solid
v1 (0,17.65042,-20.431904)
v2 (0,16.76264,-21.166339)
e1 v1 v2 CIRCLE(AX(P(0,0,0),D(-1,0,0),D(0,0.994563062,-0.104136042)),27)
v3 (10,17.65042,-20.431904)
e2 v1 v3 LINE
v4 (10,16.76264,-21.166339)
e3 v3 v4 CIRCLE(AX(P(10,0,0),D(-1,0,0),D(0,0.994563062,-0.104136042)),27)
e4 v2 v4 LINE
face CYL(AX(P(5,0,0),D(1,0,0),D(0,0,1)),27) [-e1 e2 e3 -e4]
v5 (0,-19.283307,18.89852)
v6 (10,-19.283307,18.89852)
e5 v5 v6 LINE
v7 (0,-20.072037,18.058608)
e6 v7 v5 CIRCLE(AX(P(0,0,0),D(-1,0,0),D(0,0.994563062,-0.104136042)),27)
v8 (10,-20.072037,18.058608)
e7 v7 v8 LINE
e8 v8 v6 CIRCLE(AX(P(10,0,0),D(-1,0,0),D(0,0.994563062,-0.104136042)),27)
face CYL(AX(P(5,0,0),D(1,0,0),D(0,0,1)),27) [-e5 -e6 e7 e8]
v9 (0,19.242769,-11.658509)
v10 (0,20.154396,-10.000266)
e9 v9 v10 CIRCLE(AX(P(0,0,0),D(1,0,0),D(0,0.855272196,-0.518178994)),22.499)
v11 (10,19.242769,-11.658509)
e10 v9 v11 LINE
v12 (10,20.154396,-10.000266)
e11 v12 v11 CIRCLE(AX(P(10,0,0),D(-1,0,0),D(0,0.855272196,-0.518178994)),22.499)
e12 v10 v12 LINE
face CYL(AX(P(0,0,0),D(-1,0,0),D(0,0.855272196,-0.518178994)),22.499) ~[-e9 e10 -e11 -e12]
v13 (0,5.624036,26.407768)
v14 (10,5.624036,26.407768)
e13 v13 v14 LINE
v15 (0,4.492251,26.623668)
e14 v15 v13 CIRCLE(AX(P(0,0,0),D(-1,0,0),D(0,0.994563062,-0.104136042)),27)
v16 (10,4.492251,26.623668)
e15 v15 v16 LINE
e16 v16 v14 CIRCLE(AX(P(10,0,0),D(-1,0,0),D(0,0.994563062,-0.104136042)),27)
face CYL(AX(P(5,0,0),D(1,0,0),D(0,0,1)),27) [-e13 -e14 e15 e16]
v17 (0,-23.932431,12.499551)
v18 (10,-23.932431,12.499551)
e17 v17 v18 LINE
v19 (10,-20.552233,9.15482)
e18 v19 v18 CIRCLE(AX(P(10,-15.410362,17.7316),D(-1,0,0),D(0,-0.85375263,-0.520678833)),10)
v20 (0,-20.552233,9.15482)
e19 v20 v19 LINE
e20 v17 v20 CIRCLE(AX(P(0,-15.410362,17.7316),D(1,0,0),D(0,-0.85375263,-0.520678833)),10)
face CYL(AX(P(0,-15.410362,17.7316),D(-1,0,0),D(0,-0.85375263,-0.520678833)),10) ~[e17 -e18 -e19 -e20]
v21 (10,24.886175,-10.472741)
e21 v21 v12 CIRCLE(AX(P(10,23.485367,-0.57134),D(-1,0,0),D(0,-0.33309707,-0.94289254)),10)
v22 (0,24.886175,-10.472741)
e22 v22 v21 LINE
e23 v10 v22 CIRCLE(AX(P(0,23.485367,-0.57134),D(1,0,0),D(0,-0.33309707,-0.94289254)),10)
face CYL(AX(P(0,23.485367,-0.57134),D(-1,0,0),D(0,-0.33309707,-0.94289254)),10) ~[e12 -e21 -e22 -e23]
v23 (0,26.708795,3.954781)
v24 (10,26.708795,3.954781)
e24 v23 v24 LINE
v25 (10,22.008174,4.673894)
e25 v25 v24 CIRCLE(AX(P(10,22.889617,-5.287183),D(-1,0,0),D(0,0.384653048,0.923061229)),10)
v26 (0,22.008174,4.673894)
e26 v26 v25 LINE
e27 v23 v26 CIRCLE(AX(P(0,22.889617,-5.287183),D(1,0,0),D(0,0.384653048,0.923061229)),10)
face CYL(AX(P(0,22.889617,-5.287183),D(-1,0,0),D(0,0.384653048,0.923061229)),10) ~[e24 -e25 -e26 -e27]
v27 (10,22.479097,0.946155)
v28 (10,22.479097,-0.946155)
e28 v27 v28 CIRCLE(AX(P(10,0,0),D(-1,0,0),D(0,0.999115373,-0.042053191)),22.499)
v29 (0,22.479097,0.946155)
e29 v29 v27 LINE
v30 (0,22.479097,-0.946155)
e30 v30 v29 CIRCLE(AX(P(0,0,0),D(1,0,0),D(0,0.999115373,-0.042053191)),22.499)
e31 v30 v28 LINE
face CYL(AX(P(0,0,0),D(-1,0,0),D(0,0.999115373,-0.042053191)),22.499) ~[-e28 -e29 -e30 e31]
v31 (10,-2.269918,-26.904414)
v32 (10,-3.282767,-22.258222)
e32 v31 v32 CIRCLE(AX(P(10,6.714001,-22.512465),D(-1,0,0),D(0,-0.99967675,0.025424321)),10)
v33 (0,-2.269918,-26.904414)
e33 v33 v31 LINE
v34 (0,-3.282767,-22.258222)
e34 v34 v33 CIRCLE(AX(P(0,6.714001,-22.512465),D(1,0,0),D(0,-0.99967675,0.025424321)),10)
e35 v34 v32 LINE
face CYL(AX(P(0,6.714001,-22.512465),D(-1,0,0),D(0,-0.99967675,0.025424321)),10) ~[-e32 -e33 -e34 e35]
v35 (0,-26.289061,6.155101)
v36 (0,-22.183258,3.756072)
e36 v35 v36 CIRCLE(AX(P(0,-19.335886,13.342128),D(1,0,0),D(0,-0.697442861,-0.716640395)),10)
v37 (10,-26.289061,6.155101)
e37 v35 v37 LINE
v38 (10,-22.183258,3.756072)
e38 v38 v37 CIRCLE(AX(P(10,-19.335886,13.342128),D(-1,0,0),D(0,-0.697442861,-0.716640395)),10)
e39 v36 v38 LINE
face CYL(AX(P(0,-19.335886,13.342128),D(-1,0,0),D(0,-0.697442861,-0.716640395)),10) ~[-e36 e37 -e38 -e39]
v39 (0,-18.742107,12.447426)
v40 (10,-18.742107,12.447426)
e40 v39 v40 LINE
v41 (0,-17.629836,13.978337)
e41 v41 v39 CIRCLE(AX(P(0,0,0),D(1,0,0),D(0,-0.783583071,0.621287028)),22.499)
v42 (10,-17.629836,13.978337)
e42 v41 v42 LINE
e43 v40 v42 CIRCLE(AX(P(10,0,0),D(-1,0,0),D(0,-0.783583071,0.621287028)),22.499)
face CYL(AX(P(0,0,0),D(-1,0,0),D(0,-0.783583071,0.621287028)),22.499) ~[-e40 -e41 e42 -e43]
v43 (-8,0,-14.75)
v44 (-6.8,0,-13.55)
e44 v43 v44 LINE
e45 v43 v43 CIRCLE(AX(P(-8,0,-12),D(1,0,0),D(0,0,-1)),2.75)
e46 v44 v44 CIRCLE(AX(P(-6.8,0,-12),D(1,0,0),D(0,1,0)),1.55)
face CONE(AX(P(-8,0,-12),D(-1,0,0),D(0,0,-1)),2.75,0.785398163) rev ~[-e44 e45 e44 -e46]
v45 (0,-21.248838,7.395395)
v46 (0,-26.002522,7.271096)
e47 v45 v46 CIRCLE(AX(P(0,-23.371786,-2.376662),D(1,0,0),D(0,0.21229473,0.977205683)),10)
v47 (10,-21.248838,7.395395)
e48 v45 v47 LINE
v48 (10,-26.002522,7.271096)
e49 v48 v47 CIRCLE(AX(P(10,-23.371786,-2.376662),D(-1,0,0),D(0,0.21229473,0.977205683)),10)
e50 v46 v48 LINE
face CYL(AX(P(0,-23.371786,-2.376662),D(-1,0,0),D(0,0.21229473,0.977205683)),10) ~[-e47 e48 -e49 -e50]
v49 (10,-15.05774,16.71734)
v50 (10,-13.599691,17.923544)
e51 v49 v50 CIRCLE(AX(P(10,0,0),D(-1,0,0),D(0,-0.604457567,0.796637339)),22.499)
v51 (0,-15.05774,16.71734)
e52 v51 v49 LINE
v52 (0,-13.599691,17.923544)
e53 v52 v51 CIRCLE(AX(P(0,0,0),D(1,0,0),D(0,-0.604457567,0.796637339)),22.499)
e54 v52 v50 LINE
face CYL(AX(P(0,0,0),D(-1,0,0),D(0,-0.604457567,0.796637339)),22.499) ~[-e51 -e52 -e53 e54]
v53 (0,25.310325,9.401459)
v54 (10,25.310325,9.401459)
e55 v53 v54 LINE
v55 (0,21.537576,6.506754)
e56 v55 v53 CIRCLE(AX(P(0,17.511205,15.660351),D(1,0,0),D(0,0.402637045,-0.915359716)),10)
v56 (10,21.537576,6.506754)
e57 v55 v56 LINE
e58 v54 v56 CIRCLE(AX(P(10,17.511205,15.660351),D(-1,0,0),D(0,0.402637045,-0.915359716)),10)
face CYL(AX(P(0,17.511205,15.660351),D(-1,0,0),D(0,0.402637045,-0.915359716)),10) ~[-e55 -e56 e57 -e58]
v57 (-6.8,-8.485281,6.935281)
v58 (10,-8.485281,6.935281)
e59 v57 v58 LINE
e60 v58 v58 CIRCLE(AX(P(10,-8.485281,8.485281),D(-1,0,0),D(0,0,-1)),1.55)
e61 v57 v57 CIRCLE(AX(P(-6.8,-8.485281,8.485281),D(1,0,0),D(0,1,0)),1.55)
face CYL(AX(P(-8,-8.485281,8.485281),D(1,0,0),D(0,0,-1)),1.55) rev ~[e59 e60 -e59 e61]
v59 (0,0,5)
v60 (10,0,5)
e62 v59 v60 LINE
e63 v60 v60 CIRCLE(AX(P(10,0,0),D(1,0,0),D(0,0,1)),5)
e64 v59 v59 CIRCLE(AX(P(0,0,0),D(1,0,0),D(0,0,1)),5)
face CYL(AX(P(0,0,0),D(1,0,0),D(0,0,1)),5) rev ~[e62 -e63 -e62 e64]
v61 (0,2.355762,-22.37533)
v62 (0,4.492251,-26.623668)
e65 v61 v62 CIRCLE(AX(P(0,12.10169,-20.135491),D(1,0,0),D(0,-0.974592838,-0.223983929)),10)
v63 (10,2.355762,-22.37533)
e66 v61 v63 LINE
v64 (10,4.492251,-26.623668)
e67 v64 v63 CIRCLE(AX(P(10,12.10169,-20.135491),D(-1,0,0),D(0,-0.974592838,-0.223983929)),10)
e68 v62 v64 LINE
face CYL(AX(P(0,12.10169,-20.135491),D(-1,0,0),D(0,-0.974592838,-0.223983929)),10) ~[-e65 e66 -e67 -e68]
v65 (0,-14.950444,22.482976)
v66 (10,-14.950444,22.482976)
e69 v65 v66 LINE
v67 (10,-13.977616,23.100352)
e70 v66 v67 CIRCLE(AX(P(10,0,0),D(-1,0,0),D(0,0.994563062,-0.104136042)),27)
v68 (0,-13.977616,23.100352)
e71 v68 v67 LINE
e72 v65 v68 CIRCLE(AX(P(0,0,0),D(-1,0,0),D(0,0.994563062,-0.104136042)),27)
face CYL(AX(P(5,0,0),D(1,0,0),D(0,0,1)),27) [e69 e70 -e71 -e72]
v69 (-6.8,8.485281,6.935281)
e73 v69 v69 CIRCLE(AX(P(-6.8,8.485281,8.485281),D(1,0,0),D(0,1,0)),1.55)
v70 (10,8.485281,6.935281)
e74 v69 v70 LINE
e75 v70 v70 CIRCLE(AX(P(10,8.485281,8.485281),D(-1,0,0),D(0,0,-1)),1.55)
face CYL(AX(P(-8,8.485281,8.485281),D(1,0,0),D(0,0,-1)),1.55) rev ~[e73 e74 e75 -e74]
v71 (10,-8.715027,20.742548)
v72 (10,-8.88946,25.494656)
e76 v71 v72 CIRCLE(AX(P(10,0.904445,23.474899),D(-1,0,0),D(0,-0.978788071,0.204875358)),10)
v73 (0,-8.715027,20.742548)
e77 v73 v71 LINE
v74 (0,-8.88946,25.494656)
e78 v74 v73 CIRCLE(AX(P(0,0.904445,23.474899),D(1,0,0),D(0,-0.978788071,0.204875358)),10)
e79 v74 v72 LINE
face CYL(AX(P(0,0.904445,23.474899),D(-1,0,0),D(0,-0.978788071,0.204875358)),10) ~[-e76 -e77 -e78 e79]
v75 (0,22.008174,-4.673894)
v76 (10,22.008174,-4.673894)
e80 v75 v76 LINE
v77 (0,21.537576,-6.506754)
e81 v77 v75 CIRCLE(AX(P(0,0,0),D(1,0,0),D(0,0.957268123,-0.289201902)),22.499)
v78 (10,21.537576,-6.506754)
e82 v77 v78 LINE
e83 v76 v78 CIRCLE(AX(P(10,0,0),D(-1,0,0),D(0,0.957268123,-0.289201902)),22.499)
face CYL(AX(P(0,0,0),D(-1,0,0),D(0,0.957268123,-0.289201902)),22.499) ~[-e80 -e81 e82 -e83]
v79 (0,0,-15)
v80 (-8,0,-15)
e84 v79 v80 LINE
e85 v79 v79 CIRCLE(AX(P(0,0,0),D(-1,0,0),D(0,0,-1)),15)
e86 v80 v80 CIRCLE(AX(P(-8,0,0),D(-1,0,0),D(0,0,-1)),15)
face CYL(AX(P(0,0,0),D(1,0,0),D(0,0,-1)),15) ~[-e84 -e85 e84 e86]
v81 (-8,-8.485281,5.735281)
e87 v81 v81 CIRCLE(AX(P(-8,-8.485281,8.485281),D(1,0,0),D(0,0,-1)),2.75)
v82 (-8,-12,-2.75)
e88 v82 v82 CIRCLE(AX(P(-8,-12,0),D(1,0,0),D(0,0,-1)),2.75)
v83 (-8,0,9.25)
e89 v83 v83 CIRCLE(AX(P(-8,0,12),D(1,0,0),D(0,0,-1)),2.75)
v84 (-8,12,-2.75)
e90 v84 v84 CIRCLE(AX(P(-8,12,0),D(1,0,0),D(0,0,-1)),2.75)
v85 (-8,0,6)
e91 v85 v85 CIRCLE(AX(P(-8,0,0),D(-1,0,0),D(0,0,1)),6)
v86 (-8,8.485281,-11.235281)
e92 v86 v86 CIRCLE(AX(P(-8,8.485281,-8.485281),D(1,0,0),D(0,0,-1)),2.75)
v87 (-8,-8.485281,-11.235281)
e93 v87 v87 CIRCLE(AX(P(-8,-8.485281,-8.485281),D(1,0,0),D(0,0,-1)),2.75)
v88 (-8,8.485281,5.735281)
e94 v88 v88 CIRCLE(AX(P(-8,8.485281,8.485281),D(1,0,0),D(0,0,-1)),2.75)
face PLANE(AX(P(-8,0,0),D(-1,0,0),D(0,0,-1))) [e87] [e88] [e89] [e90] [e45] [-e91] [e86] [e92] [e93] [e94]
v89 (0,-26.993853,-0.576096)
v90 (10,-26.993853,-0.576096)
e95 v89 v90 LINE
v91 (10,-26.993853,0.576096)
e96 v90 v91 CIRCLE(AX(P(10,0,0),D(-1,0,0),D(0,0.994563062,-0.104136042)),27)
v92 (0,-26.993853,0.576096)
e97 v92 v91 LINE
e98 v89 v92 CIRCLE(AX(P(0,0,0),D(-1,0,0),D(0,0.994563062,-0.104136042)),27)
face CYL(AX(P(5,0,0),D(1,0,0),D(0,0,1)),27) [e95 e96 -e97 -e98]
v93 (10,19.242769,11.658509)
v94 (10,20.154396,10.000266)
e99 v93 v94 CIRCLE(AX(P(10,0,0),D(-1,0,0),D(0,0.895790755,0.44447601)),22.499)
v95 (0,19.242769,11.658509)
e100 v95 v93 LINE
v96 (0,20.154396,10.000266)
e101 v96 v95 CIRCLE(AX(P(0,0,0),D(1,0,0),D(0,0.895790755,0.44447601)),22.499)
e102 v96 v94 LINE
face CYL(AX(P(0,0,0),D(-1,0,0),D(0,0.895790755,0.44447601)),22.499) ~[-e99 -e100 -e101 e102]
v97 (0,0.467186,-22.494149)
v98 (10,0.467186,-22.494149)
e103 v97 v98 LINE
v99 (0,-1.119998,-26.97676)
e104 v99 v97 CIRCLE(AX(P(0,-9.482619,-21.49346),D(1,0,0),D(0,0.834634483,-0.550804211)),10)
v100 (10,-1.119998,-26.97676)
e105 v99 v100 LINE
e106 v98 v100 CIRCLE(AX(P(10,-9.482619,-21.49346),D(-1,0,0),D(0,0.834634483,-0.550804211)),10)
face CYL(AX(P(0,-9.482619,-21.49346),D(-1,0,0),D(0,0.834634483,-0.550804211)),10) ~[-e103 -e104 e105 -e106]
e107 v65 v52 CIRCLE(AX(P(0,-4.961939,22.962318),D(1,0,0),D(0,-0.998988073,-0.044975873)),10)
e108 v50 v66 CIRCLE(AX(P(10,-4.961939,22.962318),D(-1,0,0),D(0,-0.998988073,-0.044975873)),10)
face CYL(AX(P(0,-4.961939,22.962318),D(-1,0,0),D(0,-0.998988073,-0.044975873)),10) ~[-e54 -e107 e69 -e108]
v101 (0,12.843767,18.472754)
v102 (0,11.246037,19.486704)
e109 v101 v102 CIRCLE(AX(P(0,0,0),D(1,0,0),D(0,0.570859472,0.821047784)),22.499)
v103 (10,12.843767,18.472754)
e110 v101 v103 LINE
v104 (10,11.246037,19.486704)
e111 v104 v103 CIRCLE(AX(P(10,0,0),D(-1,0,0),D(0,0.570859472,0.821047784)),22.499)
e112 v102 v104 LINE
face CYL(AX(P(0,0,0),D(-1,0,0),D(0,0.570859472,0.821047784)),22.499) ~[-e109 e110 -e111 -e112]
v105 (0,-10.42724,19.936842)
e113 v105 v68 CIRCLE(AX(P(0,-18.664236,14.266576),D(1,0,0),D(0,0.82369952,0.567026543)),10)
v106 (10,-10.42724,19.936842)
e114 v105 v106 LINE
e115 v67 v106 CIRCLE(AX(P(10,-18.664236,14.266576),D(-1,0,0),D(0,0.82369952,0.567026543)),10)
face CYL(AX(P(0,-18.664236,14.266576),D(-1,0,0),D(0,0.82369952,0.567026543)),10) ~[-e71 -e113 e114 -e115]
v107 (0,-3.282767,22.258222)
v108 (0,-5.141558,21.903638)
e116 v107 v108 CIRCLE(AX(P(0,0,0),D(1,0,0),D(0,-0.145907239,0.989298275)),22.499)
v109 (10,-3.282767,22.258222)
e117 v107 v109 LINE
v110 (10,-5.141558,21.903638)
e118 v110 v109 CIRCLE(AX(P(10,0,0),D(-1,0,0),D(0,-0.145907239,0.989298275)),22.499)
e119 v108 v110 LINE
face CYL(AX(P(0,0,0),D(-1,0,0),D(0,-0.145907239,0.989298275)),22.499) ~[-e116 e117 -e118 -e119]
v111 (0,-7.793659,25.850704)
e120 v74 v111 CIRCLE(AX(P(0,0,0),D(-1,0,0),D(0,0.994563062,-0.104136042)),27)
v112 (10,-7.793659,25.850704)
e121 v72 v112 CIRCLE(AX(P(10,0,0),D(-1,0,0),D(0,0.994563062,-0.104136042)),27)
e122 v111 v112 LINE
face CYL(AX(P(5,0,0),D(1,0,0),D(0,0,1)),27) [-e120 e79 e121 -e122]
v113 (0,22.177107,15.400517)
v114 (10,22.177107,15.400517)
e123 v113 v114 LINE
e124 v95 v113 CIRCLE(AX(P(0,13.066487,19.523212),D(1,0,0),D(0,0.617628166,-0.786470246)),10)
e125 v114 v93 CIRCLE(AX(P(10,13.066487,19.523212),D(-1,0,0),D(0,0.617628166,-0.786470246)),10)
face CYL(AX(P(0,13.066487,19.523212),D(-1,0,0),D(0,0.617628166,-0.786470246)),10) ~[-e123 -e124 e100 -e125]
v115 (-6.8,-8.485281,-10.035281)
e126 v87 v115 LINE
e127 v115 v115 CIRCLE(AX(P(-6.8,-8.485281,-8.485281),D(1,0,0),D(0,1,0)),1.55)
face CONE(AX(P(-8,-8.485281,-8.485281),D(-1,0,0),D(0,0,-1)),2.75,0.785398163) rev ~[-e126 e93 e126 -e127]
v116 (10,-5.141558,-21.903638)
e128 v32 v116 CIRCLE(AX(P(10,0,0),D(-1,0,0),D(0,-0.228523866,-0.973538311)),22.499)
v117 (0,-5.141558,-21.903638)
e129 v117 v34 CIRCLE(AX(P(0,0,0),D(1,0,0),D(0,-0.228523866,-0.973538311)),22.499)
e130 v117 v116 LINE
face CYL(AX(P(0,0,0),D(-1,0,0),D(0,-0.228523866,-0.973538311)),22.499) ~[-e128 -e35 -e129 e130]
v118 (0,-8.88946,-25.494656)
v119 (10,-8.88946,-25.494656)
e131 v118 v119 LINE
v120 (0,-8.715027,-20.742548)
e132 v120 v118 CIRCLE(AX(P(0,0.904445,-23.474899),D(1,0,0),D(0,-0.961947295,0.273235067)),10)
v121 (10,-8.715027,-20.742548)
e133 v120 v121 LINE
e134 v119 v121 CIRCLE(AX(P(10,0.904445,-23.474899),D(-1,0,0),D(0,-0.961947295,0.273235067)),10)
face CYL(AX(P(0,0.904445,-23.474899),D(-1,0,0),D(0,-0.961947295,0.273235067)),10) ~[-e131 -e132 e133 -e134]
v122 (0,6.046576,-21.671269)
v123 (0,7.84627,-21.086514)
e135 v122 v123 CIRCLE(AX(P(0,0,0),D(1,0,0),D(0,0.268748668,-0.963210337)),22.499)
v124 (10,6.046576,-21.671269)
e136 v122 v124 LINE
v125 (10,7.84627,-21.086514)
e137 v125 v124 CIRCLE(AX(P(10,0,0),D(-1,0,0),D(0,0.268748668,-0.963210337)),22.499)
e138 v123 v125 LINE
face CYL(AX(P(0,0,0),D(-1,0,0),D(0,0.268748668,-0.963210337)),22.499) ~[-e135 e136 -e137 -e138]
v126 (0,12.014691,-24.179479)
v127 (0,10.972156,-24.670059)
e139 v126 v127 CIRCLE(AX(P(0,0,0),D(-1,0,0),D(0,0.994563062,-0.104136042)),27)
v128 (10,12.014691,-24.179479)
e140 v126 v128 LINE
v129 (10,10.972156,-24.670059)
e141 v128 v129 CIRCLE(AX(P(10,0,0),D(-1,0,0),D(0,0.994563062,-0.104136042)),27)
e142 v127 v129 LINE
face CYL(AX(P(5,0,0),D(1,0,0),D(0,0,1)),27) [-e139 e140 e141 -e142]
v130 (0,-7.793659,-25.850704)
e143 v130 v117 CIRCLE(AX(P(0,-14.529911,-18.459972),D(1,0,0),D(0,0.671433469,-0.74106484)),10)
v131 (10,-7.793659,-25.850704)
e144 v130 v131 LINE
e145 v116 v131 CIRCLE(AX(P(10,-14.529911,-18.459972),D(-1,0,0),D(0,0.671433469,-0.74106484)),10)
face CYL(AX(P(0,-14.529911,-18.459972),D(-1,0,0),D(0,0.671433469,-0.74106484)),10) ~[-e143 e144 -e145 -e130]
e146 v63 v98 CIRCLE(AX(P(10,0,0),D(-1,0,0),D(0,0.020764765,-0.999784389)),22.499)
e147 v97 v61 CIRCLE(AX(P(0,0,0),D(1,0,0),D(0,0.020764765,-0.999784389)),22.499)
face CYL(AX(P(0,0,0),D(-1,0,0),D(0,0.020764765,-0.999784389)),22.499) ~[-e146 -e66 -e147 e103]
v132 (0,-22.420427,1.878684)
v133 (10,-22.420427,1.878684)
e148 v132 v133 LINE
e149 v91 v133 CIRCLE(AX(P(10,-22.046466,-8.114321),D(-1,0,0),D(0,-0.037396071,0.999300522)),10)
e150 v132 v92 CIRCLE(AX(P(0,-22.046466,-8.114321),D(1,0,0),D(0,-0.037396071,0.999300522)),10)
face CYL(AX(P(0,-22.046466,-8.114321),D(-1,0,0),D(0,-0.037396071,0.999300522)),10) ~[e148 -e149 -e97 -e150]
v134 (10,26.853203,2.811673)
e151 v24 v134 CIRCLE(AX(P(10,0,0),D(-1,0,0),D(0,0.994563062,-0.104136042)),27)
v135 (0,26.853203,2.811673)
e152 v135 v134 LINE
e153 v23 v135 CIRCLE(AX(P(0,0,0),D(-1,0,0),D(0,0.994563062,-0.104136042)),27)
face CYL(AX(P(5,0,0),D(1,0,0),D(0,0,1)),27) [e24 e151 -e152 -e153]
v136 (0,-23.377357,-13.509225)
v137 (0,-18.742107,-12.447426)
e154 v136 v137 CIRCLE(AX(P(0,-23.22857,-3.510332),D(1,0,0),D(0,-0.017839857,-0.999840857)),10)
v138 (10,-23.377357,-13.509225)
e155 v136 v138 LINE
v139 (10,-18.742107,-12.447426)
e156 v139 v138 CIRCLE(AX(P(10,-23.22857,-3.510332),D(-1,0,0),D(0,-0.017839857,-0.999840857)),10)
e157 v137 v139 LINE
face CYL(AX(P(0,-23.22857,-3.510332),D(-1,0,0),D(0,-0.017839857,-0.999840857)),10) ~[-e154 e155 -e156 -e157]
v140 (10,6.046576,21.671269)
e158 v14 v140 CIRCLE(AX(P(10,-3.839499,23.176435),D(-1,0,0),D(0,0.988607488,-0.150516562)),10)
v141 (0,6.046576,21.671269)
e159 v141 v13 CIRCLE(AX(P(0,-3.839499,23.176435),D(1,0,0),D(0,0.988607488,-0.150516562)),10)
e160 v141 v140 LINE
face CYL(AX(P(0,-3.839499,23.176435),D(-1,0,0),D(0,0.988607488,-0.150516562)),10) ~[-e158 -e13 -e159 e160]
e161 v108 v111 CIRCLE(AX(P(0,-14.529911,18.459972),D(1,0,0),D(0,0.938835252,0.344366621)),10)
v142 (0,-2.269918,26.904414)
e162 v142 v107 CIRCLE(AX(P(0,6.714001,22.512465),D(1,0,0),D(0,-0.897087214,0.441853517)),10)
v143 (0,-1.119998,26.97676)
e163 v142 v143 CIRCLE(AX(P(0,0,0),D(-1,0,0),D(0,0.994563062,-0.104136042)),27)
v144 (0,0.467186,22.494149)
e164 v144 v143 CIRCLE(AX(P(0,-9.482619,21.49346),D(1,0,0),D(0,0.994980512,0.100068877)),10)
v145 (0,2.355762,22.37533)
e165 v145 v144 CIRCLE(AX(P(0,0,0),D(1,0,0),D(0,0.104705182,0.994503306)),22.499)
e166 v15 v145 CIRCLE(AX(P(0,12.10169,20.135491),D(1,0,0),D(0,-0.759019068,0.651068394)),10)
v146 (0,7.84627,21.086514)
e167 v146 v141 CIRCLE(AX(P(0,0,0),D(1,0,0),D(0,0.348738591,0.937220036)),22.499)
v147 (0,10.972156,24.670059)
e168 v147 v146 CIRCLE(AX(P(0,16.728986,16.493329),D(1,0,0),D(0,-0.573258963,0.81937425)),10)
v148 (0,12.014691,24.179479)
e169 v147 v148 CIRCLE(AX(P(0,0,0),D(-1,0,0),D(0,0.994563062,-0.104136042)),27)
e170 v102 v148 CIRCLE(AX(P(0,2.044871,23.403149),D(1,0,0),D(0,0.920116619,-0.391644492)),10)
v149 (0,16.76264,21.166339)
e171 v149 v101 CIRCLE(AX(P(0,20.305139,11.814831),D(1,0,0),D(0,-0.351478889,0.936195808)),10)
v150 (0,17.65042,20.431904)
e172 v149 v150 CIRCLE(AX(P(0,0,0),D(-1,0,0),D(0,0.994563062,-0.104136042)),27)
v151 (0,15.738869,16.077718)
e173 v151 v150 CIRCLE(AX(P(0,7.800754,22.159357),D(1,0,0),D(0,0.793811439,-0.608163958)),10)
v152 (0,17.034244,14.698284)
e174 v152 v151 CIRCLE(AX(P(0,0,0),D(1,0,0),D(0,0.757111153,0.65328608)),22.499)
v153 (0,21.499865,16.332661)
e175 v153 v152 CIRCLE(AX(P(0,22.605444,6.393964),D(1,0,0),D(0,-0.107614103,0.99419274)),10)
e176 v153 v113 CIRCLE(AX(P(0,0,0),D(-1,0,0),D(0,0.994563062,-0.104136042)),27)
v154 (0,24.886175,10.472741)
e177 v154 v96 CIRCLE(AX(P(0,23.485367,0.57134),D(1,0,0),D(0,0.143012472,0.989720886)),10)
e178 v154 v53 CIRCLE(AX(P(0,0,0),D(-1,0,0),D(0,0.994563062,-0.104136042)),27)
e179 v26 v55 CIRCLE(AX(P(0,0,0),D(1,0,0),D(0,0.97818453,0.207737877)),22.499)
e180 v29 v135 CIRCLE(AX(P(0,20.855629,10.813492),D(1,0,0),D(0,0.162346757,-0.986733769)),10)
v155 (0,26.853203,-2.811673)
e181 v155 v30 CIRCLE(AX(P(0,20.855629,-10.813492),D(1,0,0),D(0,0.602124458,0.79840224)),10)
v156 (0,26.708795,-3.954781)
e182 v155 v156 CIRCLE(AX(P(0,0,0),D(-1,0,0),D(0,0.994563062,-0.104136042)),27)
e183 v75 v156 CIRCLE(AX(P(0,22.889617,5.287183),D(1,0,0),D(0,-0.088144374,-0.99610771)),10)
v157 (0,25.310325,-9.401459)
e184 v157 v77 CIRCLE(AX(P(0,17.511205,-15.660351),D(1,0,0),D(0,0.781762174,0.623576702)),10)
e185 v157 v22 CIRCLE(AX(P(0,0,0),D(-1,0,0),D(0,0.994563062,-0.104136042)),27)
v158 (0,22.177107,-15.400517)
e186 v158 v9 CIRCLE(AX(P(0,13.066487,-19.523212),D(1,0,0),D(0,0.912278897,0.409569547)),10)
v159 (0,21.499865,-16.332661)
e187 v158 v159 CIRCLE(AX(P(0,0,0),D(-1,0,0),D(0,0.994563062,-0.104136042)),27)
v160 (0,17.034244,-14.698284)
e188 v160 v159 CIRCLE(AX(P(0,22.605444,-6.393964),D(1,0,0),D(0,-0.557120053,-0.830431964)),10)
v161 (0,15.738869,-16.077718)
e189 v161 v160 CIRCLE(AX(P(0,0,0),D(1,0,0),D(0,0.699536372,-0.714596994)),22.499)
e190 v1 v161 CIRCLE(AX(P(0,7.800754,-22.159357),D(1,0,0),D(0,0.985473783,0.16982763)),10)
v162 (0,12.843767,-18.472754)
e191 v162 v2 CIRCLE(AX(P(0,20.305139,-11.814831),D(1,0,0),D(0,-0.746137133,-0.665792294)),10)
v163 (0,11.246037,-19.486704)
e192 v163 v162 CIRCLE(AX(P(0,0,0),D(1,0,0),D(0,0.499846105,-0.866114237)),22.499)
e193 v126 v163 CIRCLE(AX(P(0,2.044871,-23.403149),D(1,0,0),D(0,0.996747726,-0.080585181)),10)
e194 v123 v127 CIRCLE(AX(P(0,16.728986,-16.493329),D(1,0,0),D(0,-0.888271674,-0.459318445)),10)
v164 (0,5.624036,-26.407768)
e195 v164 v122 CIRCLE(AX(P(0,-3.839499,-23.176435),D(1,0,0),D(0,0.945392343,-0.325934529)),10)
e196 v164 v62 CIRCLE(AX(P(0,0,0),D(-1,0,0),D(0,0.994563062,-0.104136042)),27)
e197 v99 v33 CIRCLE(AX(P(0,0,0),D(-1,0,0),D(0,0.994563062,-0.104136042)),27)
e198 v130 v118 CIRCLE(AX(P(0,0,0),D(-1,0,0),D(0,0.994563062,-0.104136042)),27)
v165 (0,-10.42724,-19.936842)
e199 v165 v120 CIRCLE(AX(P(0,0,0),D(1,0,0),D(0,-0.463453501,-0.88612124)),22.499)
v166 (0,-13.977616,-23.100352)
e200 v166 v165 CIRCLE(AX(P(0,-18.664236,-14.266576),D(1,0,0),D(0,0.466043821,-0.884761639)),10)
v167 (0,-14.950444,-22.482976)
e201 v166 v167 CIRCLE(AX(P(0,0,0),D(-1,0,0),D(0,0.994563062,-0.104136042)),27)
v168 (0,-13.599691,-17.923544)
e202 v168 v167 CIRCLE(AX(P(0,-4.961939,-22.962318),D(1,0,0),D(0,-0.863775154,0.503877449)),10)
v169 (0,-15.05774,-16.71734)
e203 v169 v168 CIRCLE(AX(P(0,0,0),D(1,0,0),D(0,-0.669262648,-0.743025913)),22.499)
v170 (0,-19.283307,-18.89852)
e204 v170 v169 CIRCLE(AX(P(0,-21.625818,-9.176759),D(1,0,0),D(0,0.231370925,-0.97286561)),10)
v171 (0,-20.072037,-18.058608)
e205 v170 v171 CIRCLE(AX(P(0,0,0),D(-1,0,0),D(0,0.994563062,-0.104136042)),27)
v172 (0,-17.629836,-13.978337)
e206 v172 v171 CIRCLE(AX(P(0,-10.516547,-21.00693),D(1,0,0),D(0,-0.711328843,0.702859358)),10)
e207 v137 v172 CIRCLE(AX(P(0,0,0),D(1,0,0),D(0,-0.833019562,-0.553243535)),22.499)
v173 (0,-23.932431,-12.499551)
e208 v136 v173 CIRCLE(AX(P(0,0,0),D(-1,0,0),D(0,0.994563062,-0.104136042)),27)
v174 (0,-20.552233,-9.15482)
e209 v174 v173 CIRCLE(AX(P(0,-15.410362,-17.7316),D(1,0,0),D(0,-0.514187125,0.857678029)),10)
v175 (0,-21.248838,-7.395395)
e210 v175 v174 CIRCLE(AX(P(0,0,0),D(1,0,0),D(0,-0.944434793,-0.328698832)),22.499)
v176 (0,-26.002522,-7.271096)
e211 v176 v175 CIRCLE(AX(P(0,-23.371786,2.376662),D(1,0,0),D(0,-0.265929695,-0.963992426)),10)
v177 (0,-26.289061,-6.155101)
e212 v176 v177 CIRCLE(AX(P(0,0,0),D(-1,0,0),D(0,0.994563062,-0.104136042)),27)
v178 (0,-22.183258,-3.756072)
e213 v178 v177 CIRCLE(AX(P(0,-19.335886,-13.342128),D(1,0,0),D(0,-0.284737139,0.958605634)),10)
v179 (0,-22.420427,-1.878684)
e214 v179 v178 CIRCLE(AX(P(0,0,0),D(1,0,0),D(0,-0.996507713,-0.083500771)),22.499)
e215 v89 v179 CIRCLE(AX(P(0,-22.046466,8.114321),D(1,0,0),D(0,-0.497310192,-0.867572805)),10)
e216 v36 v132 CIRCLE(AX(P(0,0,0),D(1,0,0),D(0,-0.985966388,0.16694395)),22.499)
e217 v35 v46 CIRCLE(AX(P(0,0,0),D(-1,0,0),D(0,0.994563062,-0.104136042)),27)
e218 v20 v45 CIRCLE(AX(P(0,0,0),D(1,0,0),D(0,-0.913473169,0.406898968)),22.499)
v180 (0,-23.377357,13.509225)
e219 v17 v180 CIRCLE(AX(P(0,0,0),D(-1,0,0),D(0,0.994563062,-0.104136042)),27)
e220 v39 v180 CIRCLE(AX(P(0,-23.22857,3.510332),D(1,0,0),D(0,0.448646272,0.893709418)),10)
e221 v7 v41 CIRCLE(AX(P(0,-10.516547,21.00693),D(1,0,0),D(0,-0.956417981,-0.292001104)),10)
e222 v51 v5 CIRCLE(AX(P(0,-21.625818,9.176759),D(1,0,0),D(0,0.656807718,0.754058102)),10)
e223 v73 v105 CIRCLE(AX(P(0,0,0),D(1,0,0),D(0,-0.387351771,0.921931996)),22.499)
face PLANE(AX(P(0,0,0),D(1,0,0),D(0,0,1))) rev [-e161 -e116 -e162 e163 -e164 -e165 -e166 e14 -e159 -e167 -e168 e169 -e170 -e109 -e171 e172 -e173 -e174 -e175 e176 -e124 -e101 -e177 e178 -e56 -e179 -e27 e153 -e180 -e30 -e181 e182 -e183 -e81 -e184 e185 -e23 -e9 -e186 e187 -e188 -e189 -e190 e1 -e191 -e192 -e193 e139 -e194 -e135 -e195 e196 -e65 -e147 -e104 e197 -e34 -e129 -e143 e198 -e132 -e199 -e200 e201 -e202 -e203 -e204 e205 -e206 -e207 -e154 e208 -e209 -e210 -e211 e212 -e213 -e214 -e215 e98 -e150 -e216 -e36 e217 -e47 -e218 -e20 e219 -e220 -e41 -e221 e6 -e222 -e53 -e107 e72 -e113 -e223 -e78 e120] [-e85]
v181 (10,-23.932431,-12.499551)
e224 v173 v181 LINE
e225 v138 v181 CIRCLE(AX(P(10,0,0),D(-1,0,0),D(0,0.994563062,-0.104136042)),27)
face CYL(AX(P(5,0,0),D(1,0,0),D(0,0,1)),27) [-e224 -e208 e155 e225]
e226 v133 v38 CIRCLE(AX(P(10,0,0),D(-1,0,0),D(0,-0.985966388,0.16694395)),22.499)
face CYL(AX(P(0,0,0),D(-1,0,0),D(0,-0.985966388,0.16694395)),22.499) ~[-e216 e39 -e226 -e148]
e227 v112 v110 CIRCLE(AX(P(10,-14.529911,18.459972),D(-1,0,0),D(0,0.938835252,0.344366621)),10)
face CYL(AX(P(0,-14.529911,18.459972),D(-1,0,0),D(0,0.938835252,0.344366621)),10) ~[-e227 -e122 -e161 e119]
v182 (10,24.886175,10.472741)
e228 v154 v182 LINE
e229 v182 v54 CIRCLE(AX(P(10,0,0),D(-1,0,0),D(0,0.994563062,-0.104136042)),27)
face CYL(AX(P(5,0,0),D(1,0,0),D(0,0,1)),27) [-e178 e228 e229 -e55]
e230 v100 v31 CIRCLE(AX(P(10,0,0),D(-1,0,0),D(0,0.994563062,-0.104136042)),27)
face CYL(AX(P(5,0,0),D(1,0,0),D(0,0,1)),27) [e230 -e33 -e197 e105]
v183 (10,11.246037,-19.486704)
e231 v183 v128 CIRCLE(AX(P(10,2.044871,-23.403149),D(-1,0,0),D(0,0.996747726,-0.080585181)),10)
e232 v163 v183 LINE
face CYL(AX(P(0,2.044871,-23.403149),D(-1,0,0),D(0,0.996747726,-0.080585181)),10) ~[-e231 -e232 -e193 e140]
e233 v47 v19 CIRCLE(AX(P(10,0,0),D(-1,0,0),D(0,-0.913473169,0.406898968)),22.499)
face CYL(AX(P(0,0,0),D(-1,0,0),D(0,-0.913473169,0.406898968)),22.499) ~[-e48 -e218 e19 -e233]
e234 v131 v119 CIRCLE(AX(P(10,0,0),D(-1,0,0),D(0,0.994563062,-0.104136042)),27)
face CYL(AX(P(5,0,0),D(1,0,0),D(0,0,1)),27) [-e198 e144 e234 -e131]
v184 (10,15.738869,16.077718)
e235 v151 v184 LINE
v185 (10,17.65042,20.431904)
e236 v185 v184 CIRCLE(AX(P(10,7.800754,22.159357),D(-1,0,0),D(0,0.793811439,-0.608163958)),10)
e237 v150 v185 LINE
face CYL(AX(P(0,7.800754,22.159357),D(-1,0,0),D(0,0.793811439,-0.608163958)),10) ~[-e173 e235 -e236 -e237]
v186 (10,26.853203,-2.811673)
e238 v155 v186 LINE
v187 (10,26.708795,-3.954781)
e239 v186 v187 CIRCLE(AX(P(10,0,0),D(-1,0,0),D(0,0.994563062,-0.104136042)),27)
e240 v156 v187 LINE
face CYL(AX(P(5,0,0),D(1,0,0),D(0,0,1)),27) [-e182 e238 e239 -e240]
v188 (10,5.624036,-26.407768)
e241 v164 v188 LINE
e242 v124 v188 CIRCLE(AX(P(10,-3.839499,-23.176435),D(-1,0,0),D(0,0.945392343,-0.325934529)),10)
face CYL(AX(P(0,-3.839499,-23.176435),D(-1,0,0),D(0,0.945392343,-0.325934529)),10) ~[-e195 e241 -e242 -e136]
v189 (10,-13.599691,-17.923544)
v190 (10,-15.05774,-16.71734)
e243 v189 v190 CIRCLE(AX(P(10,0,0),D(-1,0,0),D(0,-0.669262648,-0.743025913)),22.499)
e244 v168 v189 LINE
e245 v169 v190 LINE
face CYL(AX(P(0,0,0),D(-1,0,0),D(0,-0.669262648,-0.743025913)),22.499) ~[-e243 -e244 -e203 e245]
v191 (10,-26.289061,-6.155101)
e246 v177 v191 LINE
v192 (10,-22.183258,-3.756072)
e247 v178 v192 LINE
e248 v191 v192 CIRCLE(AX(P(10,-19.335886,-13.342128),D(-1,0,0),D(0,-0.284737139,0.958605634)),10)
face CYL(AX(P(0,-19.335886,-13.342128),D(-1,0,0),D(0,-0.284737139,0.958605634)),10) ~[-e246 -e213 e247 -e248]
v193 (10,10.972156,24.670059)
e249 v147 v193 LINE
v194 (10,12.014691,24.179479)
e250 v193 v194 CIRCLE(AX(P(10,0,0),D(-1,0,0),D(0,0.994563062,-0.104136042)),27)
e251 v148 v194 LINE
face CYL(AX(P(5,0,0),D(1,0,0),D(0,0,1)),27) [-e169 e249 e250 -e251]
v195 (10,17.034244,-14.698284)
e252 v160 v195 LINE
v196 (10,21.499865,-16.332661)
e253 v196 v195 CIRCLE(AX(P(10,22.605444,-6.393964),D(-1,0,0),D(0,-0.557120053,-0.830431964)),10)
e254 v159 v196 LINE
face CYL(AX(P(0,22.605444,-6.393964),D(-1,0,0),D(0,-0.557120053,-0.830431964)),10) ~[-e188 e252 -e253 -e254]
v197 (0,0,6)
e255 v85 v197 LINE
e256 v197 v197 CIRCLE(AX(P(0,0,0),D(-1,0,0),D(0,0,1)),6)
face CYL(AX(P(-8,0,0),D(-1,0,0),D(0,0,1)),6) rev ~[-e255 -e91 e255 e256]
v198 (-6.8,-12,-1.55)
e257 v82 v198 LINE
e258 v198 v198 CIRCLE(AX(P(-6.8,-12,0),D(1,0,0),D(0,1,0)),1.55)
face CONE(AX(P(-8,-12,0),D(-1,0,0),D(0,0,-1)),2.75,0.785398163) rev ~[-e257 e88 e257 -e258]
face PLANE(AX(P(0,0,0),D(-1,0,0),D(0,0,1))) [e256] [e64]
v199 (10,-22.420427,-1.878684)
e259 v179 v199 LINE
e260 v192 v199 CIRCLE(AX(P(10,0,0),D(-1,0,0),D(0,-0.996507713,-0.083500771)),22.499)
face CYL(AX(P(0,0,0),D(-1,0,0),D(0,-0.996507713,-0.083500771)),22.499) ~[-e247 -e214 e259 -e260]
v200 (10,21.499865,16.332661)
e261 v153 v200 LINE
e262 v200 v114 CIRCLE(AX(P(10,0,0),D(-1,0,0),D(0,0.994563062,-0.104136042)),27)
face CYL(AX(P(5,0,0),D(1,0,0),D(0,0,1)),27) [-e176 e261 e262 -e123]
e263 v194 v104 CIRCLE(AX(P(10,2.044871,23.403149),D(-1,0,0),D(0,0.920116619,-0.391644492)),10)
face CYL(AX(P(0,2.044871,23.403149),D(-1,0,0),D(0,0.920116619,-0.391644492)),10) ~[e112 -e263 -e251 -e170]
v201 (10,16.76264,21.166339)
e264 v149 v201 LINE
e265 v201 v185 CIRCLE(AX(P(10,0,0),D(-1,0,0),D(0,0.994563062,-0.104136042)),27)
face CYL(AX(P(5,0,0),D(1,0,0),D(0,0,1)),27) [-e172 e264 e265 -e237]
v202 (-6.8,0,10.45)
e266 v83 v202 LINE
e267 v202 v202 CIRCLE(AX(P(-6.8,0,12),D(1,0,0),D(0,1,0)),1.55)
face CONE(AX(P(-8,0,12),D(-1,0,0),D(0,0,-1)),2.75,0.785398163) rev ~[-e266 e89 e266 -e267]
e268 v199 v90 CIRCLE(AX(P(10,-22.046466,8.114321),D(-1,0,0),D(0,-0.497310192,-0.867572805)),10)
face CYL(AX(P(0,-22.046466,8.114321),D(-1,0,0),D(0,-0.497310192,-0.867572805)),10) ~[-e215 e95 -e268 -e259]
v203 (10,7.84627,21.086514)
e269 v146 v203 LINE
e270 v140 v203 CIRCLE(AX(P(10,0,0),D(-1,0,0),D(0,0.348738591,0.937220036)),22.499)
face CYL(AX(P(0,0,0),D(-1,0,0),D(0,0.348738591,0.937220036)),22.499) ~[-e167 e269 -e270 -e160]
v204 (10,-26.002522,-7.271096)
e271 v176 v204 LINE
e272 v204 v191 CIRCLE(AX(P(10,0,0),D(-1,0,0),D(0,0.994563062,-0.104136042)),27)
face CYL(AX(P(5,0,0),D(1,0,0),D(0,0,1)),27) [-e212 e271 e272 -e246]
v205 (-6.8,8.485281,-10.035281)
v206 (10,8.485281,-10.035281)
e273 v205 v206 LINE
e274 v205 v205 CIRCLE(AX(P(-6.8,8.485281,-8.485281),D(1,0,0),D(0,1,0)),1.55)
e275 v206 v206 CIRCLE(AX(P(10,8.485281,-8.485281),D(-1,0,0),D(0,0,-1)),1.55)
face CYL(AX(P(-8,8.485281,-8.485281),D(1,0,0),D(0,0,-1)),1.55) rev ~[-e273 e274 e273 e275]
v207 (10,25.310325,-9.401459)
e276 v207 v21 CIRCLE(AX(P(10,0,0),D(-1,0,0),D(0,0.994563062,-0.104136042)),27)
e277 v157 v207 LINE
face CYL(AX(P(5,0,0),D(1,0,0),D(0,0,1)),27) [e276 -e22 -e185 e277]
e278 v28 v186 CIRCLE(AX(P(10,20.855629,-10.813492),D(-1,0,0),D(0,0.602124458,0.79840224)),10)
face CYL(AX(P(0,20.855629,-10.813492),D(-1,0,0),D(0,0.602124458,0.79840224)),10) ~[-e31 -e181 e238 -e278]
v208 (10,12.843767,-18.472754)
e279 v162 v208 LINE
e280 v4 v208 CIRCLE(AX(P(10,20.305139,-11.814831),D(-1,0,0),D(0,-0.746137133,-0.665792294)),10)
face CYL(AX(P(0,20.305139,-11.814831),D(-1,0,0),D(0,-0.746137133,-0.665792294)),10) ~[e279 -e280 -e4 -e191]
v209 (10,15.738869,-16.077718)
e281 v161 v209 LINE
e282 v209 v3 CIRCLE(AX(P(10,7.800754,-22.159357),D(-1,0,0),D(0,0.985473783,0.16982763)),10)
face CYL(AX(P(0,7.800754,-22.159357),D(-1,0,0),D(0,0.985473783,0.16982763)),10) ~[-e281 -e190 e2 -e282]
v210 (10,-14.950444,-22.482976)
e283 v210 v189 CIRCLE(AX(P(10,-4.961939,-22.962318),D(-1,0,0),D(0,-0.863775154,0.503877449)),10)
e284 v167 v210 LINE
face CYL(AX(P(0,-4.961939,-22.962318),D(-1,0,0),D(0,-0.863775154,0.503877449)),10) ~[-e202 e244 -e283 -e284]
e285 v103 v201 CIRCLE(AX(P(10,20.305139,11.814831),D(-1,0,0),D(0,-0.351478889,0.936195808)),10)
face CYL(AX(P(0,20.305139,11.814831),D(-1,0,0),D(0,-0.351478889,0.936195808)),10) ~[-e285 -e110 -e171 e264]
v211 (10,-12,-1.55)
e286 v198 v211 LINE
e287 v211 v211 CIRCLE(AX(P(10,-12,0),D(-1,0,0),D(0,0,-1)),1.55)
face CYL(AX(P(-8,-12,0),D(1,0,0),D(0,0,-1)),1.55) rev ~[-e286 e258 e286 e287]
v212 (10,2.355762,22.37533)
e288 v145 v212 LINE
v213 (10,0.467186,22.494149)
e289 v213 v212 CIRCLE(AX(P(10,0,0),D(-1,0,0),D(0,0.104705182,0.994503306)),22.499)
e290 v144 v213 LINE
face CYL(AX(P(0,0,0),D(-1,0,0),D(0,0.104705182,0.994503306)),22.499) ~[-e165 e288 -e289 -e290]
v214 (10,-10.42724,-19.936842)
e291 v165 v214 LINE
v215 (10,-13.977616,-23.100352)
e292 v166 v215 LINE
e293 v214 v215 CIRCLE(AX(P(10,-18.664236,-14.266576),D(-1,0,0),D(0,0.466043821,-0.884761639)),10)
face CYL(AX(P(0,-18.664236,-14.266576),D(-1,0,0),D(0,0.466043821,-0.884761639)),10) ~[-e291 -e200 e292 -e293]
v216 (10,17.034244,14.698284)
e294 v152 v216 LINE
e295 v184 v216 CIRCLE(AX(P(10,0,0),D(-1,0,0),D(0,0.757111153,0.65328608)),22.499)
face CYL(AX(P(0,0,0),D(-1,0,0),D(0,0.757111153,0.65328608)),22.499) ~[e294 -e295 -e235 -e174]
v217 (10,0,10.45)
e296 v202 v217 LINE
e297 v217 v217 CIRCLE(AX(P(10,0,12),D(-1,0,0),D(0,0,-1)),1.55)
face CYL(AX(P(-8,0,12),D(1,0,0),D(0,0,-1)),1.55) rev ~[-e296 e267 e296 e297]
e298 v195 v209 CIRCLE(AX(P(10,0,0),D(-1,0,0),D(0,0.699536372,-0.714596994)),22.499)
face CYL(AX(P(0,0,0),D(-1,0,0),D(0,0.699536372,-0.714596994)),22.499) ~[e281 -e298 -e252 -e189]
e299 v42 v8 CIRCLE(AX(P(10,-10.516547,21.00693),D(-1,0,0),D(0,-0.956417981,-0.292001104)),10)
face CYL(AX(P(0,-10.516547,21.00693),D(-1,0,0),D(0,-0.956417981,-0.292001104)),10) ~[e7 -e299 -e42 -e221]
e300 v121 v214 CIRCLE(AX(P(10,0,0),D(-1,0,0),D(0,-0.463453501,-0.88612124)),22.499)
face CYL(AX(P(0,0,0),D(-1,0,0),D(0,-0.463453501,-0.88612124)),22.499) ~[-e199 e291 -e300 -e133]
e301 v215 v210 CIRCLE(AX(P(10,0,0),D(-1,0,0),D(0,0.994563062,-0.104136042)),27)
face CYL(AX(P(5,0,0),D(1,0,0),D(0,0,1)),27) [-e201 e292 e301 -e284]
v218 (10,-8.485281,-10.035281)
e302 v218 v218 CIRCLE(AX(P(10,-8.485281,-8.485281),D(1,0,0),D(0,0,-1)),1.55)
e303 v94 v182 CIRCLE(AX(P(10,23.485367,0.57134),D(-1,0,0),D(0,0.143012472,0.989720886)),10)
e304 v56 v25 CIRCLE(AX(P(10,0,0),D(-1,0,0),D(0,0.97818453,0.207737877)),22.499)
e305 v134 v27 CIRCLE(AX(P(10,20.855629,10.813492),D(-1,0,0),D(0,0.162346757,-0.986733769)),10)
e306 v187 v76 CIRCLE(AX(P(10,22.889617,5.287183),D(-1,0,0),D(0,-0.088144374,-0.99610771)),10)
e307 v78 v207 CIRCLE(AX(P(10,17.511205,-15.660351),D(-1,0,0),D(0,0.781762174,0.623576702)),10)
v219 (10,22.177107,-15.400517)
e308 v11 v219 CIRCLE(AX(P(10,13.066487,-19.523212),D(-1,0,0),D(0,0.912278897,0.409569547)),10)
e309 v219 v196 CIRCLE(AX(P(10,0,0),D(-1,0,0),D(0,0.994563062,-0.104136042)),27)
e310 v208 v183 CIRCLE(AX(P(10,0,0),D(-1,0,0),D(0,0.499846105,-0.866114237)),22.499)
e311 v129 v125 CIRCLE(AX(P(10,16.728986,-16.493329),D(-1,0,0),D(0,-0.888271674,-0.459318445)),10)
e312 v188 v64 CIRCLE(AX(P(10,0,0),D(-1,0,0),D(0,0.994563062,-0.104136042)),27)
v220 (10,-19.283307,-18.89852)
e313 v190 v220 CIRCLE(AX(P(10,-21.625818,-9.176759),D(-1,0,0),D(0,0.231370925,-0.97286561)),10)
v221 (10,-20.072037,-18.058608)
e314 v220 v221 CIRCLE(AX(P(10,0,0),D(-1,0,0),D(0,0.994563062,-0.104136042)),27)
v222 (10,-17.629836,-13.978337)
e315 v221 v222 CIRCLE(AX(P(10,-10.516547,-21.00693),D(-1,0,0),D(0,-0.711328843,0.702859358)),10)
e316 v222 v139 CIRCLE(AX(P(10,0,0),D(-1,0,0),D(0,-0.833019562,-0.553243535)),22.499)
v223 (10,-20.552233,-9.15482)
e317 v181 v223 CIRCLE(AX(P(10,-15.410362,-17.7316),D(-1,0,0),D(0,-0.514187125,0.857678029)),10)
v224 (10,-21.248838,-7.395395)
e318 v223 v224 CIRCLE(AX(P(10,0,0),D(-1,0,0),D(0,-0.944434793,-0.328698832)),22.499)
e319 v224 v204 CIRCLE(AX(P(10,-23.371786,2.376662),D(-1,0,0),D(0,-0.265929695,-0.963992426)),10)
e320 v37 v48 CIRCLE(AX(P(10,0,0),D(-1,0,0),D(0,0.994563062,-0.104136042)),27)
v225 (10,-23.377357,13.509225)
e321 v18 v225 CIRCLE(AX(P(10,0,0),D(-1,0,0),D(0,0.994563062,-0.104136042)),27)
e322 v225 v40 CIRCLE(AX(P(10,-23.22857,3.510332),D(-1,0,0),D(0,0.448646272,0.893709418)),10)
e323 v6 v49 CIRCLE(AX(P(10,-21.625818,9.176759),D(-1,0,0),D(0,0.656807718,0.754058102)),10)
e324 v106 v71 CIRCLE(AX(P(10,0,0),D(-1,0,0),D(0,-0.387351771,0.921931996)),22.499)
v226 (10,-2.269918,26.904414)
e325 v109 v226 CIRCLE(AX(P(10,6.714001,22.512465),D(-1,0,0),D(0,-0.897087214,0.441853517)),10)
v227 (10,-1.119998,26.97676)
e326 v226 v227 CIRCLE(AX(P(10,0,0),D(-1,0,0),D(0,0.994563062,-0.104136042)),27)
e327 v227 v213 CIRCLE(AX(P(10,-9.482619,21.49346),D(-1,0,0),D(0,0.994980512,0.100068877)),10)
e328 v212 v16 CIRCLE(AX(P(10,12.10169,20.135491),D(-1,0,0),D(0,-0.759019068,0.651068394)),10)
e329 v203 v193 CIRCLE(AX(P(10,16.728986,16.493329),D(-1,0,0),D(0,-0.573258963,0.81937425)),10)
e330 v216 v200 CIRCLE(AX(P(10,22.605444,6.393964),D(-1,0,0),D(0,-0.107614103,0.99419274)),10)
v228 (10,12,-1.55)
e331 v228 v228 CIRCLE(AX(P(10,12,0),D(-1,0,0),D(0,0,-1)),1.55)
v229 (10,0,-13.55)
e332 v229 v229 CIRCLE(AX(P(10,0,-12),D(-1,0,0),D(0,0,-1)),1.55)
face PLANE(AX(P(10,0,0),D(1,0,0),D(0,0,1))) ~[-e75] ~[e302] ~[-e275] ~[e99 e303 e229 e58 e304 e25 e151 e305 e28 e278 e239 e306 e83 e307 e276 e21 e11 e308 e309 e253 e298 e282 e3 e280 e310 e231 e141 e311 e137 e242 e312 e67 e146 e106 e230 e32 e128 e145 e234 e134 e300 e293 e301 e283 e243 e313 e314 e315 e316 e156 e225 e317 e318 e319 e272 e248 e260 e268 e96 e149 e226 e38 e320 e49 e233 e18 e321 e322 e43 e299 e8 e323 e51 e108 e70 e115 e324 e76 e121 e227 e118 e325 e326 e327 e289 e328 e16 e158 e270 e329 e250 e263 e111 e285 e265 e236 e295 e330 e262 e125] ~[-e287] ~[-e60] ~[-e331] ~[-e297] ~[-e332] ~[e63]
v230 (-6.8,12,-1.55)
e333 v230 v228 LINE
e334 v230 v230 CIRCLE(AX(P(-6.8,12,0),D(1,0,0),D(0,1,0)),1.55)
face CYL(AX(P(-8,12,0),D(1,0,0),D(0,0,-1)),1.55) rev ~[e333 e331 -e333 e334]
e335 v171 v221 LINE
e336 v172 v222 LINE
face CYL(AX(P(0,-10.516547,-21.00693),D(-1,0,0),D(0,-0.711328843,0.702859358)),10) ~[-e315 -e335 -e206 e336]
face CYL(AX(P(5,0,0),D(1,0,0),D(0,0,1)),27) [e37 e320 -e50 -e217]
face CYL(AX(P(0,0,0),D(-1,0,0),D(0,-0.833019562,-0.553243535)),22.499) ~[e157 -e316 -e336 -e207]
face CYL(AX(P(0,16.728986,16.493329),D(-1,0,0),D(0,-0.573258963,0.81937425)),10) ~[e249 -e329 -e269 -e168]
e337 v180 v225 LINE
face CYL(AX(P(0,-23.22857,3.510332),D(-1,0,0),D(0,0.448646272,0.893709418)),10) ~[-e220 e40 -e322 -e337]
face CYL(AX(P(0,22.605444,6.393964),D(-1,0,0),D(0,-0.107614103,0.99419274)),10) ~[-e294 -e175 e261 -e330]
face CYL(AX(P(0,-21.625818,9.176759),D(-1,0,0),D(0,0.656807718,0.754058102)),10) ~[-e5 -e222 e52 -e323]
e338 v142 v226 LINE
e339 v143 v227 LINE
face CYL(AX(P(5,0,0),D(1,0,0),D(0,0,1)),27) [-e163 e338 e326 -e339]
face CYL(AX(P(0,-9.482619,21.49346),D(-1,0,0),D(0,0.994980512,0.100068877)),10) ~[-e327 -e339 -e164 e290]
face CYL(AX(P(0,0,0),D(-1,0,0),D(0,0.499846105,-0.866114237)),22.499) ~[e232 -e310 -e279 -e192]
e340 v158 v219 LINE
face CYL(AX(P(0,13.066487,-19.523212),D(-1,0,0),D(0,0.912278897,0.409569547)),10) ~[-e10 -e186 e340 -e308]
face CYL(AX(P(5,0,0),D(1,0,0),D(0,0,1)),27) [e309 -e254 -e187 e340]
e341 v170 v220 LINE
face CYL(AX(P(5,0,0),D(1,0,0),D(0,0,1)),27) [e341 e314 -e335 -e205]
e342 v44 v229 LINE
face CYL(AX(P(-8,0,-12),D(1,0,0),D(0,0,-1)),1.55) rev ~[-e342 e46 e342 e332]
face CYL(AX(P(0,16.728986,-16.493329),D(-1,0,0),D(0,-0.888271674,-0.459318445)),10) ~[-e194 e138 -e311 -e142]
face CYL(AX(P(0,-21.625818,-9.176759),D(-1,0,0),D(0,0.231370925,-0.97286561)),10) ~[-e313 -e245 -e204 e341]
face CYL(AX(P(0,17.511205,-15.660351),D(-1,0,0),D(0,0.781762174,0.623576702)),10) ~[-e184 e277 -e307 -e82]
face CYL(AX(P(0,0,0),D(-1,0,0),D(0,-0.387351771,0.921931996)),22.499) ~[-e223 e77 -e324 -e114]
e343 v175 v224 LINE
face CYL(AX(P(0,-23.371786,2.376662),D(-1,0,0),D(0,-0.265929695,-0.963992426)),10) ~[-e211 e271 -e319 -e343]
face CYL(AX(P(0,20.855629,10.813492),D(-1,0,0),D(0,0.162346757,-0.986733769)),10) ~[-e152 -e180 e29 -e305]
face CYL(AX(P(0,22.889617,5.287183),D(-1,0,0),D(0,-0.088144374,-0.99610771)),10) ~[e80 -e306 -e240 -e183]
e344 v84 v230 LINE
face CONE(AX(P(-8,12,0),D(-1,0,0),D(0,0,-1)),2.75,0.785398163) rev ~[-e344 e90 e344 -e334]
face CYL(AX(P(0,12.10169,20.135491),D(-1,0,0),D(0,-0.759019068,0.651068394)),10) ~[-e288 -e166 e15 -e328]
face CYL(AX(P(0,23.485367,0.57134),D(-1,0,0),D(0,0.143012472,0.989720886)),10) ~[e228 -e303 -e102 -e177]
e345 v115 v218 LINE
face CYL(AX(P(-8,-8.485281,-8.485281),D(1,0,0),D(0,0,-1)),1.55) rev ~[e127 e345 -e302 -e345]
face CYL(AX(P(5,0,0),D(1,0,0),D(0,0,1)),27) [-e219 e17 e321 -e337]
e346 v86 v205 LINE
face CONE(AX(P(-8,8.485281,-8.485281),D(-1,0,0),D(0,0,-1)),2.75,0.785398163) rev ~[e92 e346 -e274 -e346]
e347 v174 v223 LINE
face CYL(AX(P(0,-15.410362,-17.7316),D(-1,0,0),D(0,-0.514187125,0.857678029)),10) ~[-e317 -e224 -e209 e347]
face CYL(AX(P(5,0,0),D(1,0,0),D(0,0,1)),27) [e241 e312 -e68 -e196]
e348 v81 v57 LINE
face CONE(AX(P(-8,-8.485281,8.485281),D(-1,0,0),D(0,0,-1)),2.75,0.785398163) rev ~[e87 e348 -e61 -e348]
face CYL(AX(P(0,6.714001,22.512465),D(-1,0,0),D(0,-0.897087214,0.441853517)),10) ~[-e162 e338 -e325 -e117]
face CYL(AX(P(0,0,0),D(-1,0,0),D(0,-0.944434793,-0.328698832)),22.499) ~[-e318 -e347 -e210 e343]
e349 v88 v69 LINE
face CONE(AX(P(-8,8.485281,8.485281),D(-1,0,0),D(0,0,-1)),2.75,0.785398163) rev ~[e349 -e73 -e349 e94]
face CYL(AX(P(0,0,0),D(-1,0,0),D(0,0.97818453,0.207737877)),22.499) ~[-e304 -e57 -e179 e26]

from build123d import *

# Parameters (mm, degrees)
BASPROSKE_W                                       = 10
BASPROSKE_H                                       = 27
TOOTHCUT_DEPTH                                    = 40.471508712
TEETHCUTS_COUNT                                   = 25
TEETHCUTS_ANGLE                                   = 345.6
BORSKE_R                                          = 5
BORE_DEPTH                                        = 50.0000508
SKETCH2_R                                         = 15
BOSS_EXTRUDE1_DEPTH                               = 8
SKETCH3_R                                         = 6
CUT_EXTRUDE2_DEPTH                                = 8
CSK_FOR_M2_5_FLAT_HEAD_MACHINE_SCREW1_D           = 3.1
CSK_FOR_M2_5_FLAT_HEAD_MACHINE_SCREW1_DEPTH       = 18
CSK_FOR_M2_5_FLAT_HEAD_MACHINE_SCREW1_CSINK_D     = 5.5
CSK_FOR_M2_5_FLAT_HEAD_MACHINE_SCREW1_CSINK_ANGLE = 90
CSK_FOR_M2_5_FLAT_HEAD_MACHINE_SCREW1_TIP         = 0.931333959


with BuildPart() as part:
    # BasProSke → Base-Revolve (revolve)
    with BuildSketch(Plane(origin=(0, 0, 0), x_dir=(1, 0, 0), z_dir=(0, 1, 0)), mode=Mode.PRIVATE) as base_revolve_sk:
        with Locations((5, 13.5)):
            Rectangle(BASPROSKE_W, BASPROSKE_H)
    revolve(base_revolve_sk.sketch.rotate(Axis((-10, 0, 0), (1, 0, 0)), 180), axis=Axis((-10, 0, 0), (1, 0, 0)))

    # TooCutSke → ToothCut (cut, through all)
    with BuildSketch(Plane(origin=(0, 0, 0), x_dir=(0, 0, -1), z_dir=(1, 0, 0))):
        with BuildLine():
            ThreePointArc((0.946154762, 22.479096783), (0, 22.499), (-0.946154762, 22.479096783))
            ThreePointArc((-0.946154762, 22.479096783), (-1.62094792, 24.792268013), (-2.829470045, 26.876873784))
            ThreePointArc((-2.829470045, 26.876873784), (0, 27.0254), (2.829470045, 26.876873784))
            ThreePointArc((2.829470045, 26.876873784), (1.62094792, 24.792268013), (0.946154762, 22.479096783))
        make_face()
    toothcut = extrude(amount=TOOTHCUT_DEPTH, mode=Mode.SUBTRACT)

    # TeethCuts: ToothCut ×25 about axis
    teethcuts_axis = Axis((-10, 0, 0), (1, 0, 0))
    for i in range(1, TEETHCUTS_COUNT):
        add(toothcut.rotate(teethcuts_axis, i * TEETHCUTS_ANGLE / (TEETHCUTS_COUNT - 1)), mode=Mode.SUBTRACT)

    # BorSke → Bore (cut, symmetric)
    with BuildSketch(Plane(origin=(0, 0, 0), x_dir=(0, 0, -1), z_dir=(1, 0, 0))):
        with Locations(Location((0, 0, 0), (0, 0, 180))):
            Circle(BORSKE_R)
    extrude(amount=BORE_DEPTH, both=True, mode=Mode.SUBTRACT)

    # Sketch2 → Boss-Extrude1 (add)
    with BuildSketch(Plane.ZY):
        with Locations(Location((0, 0, 0), (0, 0, 180))):
            Circle(SKETCH2_R)
    extrude(amount=BOSS_EXTRUDE1_DEPTH)

    # Sketch3 → Cut-Extrude2 (cut)
    with BuildSketch(Plane.ZY.offset(8)):
        Circle(SKETCH3_R)
    extrude(amount=-CUT_EXTRUDE2_DEPTH, mode=Mode.SUBTRACT)

    # CSK for M2.5 Flat Head Machine Screw1
    with Locations(Plane.ZY.offset(8)):
        with Locations((12, 0), (8.485281374, -8.485281374), (0, -12), (-8.485281374, -8.485281374), (-12, 0), (-8.485281374, 8.485281374), (0, 12), (8.485281374, 8.485281374), (0, 0)):
            CounterSinkHole(CSK_FOR_M2_5_FLAT_HEAD_MACHINE_SCREW1_D / 2, CSK_FOR_M2_5_FLAT_HEAD_MACHINE_SCREW1_CSINK_D / 2, depth=CSK_FOR_M2_5_FLAT_HEAD_MACHINE_SCREW1_DEPTH, counter_sink_angle=CSK_FOR_M2_5_FLAT_HEAD_MACHINE_SCREW1_CSINK_ANGLE)
            with Locations((0, 0, -(CSK_FOR_M2_5_FLAT_HEAD_MACHINE_SCREW1_DEPTH + CSK_FOR_M2_5_FLAT_HEAD_MACHINE_SCREW1_TIP / 2))):  # 118° drill point
                Cone(0, CSK_FOR_M2_5_FLAT_HEAD_MACHINE_SCREW1_D / 2, CSK_FOR_M2_5_FLAT_HEAD_MACHINE_SCREW1_TIP, mode=Mode.SUBTRACT)


solid = part.part
